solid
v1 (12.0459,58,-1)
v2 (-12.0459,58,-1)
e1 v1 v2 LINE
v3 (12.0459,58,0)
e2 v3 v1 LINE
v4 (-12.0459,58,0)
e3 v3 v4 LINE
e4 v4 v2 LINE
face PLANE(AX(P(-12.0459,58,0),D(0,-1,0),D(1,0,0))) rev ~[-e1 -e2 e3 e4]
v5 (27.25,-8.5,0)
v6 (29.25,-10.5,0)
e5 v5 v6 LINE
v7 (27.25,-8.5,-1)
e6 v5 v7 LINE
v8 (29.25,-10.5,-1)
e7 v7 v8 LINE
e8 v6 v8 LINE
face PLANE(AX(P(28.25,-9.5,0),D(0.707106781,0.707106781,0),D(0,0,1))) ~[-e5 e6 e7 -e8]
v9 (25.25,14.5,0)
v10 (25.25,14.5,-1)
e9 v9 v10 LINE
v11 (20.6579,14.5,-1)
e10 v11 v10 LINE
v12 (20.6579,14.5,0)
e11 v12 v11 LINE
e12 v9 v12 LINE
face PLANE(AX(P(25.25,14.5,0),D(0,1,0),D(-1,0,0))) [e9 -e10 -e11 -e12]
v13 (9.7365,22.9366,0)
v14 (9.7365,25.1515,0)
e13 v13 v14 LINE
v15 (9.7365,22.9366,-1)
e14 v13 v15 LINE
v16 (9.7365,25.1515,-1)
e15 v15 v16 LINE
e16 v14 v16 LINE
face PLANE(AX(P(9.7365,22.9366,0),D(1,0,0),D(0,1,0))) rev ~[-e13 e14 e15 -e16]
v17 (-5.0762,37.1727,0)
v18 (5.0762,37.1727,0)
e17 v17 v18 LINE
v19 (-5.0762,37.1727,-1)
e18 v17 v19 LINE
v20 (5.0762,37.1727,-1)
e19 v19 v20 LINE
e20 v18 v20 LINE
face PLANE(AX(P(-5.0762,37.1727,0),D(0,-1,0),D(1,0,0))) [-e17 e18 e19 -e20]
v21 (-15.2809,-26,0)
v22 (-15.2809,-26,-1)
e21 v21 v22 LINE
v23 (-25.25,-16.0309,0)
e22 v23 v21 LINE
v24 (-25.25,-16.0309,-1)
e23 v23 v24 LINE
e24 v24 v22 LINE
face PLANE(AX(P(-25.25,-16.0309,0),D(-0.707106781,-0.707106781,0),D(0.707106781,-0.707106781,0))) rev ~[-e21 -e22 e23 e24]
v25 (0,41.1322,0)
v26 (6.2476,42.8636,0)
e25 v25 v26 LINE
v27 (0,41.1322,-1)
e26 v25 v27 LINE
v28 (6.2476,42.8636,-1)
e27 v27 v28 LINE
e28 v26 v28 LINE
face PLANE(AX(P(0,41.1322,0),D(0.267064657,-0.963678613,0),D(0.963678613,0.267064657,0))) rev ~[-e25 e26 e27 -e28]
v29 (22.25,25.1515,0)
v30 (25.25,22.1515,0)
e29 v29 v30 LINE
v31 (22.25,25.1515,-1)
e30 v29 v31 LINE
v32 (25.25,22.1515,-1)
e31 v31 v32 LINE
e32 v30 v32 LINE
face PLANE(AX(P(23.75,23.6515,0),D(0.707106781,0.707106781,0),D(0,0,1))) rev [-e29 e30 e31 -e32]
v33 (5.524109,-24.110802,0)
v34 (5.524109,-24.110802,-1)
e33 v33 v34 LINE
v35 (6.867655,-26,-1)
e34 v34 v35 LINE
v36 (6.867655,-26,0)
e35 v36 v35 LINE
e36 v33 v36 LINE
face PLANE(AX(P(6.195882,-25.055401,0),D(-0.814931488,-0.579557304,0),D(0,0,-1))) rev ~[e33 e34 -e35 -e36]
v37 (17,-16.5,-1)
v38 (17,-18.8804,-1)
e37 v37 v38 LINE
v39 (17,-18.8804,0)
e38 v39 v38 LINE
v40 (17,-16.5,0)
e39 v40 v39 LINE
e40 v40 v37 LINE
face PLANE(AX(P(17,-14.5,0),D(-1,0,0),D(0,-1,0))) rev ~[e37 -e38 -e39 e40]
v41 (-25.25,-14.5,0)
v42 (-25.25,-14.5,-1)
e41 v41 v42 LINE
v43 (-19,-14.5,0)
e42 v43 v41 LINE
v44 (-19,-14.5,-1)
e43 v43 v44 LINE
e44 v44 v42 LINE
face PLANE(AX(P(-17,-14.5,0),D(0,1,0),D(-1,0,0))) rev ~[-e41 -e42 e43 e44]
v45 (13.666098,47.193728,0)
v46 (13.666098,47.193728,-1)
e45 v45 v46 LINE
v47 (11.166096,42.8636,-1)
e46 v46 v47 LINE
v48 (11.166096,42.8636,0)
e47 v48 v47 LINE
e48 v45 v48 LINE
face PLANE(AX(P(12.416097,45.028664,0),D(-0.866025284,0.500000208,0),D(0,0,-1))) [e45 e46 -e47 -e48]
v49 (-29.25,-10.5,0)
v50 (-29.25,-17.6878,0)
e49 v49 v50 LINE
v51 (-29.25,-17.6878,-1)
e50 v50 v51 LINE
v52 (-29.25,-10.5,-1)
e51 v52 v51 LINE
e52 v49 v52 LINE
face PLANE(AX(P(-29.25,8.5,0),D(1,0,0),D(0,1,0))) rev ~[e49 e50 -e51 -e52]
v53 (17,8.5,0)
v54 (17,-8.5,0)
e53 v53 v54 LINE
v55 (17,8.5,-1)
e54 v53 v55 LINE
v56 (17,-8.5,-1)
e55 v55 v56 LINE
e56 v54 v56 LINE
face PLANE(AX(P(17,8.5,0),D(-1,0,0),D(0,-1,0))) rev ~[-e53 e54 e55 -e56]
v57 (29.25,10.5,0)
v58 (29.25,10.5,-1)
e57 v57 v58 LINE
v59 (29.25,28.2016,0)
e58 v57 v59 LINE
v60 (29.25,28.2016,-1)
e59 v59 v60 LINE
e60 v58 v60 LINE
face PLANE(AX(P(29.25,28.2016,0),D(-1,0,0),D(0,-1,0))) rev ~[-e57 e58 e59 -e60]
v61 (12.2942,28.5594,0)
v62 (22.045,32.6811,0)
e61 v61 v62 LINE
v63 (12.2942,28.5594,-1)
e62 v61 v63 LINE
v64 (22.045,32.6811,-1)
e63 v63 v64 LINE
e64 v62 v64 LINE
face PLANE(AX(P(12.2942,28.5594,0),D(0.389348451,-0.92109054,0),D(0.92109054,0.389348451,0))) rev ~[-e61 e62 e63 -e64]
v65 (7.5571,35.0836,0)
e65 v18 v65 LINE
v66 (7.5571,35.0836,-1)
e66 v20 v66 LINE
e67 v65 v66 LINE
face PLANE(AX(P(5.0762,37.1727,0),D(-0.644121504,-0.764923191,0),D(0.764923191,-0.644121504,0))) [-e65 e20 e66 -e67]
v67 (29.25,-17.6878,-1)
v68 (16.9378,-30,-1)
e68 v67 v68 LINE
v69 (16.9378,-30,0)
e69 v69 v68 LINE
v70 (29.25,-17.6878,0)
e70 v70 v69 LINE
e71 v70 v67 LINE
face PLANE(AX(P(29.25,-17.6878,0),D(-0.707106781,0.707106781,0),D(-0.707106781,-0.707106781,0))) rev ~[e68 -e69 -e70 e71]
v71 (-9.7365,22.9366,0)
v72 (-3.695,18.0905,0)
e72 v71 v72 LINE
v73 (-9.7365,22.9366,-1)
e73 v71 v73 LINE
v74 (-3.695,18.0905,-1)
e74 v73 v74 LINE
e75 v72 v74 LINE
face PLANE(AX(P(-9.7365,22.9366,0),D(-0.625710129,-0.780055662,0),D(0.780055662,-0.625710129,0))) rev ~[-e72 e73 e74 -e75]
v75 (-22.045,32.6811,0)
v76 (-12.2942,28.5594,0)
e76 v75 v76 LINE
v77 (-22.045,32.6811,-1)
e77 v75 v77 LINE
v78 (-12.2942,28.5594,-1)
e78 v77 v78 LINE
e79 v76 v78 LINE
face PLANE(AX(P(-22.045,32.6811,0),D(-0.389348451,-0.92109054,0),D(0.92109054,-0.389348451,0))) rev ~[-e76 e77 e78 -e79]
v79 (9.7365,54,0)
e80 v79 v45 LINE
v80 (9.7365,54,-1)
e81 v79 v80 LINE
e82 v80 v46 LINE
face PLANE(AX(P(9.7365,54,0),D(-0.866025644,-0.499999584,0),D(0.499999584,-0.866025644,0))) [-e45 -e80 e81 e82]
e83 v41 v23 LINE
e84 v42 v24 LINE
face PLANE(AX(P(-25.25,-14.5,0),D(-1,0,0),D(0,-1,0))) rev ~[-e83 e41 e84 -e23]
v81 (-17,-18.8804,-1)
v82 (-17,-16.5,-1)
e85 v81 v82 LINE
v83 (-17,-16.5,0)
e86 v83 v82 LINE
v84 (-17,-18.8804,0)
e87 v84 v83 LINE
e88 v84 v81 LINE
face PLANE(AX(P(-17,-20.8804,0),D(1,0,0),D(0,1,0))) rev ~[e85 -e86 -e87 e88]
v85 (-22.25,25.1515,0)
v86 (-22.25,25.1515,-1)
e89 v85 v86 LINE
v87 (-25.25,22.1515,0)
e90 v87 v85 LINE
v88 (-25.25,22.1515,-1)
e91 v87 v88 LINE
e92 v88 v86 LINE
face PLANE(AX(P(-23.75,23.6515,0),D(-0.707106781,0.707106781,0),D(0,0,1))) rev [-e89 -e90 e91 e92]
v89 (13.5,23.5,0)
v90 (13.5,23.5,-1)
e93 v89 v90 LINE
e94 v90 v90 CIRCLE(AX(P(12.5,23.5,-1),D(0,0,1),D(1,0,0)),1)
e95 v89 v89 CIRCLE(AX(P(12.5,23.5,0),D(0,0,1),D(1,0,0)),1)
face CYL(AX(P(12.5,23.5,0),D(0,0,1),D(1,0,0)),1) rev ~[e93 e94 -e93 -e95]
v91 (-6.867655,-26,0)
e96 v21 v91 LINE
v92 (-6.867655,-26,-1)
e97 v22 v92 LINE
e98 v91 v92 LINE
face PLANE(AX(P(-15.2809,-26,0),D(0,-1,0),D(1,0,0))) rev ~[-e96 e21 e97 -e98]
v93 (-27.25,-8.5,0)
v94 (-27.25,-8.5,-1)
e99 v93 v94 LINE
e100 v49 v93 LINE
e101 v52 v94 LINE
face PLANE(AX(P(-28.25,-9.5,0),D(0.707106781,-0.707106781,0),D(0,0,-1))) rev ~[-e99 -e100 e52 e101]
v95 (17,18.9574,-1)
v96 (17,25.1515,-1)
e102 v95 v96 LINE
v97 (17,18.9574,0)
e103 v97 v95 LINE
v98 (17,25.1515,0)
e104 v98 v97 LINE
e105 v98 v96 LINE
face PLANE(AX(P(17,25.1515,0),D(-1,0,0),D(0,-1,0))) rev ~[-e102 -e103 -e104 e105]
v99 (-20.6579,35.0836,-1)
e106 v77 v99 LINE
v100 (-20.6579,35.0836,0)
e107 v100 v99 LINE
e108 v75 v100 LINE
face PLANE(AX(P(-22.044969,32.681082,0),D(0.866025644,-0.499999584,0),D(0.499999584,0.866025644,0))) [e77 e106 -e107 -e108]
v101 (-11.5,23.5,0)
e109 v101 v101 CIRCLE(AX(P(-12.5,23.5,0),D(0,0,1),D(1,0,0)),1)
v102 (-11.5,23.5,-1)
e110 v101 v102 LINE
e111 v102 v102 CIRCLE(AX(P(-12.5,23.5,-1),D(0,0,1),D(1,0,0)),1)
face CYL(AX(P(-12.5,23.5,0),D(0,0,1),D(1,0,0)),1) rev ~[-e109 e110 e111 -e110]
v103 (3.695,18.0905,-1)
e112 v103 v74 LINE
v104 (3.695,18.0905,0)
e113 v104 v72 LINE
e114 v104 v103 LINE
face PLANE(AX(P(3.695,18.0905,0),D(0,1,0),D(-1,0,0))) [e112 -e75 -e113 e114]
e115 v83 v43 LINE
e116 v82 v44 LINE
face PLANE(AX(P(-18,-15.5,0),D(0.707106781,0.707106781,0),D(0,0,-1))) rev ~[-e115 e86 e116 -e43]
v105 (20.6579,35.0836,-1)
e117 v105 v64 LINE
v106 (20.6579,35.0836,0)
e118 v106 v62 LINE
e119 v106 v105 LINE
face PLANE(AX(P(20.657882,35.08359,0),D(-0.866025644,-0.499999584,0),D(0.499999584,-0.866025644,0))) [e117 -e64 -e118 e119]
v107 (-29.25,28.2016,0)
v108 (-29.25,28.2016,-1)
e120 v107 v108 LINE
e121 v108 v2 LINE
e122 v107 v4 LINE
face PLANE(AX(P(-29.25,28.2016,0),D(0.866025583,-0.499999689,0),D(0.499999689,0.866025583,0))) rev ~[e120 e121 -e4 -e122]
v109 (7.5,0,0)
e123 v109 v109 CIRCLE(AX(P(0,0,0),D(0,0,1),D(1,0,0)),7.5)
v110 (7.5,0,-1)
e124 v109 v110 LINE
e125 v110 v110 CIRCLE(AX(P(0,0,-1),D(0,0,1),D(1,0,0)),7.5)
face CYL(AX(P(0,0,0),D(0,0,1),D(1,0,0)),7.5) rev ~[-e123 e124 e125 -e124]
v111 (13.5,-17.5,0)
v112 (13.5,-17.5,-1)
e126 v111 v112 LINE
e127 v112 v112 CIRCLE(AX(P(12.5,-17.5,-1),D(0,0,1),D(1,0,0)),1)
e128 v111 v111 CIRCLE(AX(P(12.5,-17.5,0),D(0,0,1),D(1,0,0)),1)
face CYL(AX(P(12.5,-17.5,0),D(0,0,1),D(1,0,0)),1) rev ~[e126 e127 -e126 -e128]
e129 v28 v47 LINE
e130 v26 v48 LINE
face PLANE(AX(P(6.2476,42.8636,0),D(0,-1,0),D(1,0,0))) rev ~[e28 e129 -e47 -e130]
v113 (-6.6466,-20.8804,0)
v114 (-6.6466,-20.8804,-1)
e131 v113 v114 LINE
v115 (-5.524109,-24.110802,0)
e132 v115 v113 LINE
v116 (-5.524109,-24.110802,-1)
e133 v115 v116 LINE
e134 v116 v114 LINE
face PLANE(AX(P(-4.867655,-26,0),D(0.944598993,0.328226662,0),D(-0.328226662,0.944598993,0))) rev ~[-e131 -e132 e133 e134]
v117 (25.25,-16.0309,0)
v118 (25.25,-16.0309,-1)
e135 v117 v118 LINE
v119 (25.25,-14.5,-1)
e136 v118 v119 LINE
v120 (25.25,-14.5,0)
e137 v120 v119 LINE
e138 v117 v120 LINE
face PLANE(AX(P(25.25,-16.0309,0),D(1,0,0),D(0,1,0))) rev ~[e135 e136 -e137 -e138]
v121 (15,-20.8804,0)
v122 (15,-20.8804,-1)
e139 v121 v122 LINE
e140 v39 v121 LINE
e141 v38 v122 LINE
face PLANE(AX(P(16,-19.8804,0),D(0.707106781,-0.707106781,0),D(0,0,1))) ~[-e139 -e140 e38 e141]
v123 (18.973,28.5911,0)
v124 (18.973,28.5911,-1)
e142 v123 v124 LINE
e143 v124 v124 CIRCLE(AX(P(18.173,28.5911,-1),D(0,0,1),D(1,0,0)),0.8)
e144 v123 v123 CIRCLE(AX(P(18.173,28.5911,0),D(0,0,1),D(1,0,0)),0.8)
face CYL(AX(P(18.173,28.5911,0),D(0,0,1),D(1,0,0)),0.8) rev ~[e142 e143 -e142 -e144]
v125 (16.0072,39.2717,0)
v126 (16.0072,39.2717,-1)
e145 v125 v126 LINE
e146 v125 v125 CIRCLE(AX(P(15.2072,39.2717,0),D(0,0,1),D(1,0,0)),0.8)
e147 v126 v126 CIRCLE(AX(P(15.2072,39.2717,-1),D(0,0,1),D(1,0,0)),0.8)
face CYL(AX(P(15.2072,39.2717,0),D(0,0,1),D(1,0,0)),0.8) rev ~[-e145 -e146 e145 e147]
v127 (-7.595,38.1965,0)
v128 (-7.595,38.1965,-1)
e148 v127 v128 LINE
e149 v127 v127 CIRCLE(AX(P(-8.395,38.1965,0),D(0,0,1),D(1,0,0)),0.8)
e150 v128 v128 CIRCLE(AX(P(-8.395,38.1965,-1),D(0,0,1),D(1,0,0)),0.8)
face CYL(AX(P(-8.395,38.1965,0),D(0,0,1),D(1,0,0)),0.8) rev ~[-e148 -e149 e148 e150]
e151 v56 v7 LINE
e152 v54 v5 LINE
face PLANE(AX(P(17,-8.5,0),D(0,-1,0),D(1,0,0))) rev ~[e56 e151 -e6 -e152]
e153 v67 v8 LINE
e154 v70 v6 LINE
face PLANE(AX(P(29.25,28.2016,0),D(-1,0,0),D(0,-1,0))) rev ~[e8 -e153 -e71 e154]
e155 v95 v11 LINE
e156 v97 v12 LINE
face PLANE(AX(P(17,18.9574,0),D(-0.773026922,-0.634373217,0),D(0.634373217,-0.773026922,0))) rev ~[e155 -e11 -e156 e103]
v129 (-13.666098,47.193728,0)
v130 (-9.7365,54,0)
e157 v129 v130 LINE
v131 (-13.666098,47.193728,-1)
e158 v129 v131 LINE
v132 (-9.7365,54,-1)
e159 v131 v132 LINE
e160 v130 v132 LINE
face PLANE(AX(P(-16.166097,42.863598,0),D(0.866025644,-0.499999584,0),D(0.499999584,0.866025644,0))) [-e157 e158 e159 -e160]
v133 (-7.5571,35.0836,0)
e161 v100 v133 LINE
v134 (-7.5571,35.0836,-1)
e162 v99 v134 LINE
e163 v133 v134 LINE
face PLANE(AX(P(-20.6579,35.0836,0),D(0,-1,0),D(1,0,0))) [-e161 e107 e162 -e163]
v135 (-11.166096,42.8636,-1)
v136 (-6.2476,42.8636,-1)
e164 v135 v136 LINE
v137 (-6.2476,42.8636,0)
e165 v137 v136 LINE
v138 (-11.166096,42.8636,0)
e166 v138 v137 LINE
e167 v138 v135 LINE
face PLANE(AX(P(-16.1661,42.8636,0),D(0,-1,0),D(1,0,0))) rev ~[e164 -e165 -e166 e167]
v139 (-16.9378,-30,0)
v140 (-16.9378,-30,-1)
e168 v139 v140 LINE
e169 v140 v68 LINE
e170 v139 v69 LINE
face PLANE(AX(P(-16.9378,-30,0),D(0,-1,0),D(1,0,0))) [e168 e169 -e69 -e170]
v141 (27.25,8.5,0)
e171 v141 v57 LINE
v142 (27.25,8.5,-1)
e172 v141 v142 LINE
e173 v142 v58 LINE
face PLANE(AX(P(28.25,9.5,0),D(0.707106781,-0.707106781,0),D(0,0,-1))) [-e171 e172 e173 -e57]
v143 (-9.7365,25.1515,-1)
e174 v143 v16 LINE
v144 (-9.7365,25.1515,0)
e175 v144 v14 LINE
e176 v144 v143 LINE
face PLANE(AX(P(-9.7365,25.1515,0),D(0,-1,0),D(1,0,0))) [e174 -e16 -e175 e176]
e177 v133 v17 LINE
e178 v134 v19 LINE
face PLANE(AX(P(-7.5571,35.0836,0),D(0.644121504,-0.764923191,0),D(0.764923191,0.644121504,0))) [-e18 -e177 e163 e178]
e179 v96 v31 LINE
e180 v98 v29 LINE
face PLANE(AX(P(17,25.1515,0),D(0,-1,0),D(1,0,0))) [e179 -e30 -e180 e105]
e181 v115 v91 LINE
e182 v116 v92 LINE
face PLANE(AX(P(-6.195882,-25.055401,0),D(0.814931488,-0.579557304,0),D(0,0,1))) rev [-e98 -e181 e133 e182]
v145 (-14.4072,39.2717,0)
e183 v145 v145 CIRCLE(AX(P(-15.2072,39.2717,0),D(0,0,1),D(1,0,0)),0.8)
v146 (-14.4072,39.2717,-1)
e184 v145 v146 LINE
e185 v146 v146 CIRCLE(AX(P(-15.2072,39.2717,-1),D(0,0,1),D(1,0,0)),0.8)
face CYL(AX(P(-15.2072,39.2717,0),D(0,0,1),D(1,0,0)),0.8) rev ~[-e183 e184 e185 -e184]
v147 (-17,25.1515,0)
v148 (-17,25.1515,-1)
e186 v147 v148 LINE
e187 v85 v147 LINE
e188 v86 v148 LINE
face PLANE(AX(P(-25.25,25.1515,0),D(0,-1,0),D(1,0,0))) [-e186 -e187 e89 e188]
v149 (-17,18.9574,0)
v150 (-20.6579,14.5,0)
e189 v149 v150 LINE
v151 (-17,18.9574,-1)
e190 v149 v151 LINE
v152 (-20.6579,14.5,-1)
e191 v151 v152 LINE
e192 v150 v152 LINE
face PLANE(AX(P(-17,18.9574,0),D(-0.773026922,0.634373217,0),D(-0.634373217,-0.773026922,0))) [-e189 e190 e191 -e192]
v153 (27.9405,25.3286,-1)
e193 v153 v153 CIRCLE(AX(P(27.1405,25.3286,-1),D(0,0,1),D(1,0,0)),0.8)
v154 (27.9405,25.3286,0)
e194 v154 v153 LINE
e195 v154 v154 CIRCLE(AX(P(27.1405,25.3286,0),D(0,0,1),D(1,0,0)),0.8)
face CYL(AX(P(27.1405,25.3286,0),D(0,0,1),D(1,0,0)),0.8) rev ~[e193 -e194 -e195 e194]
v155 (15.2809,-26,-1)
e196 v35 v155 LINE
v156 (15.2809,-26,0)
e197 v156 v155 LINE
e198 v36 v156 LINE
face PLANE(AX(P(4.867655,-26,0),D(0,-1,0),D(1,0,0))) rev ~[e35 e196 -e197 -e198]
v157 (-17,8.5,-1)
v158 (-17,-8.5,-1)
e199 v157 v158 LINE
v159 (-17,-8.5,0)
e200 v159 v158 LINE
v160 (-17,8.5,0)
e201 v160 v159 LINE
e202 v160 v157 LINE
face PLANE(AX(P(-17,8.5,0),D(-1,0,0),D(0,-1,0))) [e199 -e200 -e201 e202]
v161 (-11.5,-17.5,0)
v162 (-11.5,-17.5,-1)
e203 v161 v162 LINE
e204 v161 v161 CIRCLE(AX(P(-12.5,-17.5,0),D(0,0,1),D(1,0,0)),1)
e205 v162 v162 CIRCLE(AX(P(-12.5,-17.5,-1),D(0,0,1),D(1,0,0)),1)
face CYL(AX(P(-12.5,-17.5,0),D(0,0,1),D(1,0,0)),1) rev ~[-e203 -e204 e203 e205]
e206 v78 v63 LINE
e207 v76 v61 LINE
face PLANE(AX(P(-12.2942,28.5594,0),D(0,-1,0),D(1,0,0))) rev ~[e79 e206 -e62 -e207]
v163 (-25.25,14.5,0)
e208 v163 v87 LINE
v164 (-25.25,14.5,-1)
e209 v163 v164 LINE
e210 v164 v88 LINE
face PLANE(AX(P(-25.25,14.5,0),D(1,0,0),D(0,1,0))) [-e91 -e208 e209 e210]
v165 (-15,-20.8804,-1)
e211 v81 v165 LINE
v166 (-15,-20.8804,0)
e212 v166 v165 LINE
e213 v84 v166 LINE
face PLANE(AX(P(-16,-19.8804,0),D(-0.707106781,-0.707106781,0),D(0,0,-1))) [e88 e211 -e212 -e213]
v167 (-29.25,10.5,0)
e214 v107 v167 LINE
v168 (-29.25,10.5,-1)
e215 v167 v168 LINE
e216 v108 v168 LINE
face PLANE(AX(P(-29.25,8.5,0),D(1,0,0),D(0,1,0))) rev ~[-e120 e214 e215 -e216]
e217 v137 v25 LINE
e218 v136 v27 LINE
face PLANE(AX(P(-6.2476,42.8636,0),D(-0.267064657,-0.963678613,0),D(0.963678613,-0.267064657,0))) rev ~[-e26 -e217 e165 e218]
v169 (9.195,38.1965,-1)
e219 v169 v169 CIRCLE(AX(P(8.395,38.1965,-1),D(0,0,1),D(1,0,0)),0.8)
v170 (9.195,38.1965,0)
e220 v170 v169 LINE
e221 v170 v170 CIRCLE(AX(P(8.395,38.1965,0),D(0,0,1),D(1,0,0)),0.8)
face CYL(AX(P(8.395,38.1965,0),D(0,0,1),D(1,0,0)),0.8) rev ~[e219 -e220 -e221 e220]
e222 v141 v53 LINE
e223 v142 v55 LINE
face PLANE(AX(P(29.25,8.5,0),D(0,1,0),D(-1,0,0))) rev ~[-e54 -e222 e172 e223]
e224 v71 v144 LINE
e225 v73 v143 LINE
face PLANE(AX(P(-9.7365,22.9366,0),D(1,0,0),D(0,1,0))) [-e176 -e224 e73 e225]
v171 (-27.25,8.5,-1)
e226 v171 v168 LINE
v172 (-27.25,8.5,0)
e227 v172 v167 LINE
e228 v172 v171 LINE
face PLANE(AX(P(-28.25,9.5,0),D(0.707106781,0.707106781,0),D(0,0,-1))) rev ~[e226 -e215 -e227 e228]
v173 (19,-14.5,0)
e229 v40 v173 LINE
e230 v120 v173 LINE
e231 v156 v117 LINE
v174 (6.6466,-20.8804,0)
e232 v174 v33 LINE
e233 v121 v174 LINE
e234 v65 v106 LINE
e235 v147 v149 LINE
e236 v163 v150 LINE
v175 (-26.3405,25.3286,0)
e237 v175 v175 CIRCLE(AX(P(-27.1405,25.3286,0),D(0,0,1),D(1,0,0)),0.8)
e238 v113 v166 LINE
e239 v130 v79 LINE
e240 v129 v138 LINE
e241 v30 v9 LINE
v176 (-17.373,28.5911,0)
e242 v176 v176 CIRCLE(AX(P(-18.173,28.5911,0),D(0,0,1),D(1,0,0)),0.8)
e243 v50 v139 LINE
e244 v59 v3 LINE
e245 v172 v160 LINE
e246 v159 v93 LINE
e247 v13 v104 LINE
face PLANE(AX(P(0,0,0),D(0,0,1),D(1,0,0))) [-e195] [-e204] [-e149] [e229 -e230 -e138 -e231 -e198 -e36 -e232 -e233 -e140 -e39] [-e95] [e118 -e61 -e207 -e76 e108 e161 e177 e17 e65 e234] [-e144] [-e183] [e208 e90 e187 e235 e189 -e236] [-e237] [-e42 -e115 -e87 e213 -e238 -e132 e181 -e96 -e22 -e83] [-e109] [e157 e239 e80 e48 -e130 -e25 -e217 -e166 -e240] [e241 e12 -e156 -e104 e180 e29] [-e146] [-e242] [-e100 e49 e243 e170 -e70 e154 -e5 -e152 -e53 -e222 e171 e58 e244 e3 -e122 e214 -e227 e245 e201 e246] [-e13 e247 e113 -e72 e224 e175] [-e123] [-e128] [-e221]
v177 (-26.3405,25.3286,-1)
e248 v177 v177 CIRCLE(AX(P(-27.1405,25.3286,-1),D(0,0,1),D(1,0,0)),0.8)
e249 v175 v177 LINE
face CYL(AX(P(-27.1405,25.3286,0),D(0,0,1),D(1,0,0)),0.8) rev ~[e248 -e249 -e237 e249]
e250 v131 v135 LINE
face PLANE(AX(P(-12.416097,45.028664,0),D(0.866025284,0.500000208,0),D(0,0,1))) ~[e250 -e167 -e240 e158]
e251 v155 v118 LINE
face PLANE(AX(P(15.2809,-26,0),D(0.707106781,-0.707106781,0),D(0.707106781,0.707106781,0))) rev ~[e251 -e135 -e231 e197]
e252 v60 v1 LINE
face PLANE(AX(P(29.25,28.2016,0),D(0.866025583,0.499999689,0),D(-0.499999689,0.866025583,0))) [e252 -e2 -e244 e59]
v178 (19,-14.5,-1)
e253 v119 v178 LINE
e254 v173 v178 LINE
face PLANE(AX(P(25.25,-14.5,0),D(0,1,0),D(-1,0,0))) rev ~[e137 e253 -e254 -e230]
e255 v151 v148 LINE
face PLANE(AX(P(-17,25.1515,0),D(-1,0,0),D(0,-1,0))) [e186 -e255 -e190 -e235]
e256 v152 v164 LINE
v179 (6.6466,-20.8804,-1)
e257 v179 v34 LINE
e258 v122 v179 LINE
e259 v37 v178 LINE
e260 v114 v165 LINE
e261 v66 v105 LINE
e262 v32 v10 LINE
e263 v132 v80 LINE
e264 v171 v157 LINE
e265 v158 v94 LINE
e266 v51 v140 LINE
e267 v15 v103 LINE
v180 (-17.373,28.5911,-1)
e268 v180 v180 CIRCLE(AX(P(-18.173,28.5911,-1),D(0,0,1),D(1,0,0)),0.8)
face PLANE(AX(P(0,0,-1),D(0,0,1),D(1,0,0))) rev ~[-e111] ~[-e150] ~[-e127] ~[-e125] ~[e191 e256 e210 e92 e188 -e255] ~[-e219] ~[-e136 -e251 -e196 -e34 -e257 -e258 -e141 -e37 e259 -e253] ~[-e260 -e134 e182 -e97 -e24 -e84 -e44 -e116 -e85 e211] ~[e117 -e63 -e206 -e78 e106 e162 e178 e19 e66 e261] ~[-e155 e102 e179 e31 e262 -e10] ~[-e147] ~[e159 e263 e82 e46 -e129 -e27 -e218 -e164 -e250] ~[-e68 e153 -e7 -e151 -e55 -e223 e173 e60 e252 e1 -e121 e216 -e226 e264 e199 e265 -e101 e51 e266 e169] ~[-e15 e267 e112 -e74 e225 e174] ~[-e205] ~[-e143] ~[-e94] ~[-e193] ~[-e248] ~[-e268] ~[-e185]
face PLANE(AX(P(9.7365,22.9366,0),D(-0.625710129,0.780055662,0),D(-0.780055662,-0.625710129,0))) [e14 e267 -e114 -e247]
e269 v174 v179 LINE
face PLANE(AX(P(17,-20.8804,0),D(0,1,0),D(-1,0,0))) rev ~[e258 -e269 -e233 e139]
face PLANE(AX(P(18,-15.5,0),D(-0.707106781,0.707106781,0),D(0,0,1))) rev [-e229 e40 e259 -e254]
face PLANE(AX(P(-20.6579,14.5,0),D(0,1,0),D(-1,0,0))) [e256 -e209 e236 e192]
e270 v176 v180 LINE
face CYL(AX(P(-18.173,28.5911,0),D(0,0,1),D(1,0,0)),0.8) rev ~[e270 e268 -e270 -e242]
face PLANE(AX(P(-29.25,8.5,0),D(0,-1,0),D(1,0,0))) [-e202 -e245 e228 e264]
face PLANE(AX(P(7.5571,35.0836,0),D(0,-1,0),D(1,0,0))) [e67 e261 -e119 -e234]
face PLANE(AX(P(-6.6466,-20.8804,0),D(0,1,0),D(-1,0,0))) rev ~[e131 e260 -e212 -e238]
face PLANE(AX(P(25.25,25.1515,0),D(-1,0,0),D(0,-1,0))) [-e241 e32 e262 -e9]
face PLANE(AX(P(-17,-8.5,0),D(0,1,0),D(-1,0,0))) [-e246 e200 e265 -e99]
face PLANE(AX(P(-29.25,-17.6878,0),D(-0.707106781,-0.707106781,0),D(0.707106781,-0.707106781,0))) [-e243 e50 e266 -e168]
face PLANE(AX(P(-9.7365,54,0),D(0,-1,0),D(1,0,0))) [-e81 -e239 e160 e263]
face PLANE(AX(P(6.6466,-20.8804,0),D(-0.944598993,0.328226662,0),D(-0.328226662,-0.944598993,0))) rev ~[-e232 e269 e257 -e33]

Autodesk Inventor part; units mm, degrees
ref_plane "YZ Plane" through (0, 0, 0) normal (1, 0, 0) x (0, 1, 0)
ref_plane "XZ Plane" through (0, 0, 0) normal (0, 1, 0) x (-1, 0, 0)
ref_plane "XY Plane" through (0, 0, 0) normal (0, 0, 1) x (1, 0, 0)
sketch "スケッチ1" plane through (0, 0, 0) normal (0, 0, 1) x (1, 0, 0)
  line L0 (-90, 90) -> (90, 90) construction
  line L1 (90, 90) -> (90, -90) construction
  line L2 (90, -90) -> (-90, -90) construction
  line L3 (-90, -90) -> (-90, 90) construction
  line L4 (-90, 90) -> (-90, 270) construction
  line L5 (-90, 270) -> (90, 270) construction
  line L6 (90, 270) -> (90, 90) construction
  line L7 (-90, 90) -> (90, -90) construction
  line L8 (90, 90) -> (-90, -90) construction
  line L9 (0, 0) -> (0, 10) construction
  line L10 (0, 0) -> (10, 0) construction
  line L11 (-90, 270) -> (90, 90) construction
  line L12 (-90, 90) -> (90, 270) construction
  line L13 (-96, 276) -> (96, 276) construction
  line L14 (96, 276) -> (96, -96) construction
  line L15 (96, -96) -> (-96, -96) construction
  line L16 (-96, -96) -> (-96, 276) construction
  line L17 (-84, 264) -> (84, 264) construction
  line L18 (84, 264) -> (84, -84) construction
  line L19 (84, -84) -> (-84, -84) construction
  line L20 (-84, -84) -> (-84, 264) construction
  line L21 (-96, 96) -> (96, 96) construction
  line L22 (-96, 84) -> (96, 84) construction
  line L23 (-63.6396, 63.6396) -> (63.6396, 190.9188) construction
  line L24 (63.6396, 190.9188) -> (190.9188, 63.6396) construction
  line L25 (190.9188, 63.6396) -> (63.6396, -63.6396) construction
  line L26 (63.6396, -63.6396) -> (-63.6396, 63.6396) construction
  line L27 (-190.9188, 190.9188) -> (-63.6396, 318.1981) construction
  line L28 (-63.6396, 318.1981) -> (63.6396, 190.9188) construction
  line L29 (-63.6396, 63.6396) -> (-190.9188, 190.9188) construction
  line L30 (-96, 120) -> (96, 120) construction
  line L31 (-96, 186) -> (96, 186) construction
  line L32 (-96, 174) -> (96, 174) construction
  line L33 (-96, 180) -> (96, 180) construction
  point P0 (-63.6396, 318.1981)
  point P1 (-90, 120)
  point P2 (90, 120)
  point P3 (0, 180)
  dimension "d8" = 10
  dimension "d9" = 10
  dimension "d10" = 12
  dimension "d11" = 12
  dimension "d12" = 12
  dimension "d13" = 12
  dimension "d14" = 180
  dimension "d15" = 180
  dimension "d16" = 180
  dimension "d17" = 12
  dimension "d34" = 180
  dimension "d35" = 180
  dimension "d36" = 180
  dimension "d37" = 120
  dimension "d85" = 12
sketch "スケッチ2" plane through (0, 0, 0) normal (0, 0, 1) x (1, 0, 0)
  line L0 (63.6396, 190.9188) -> (190.9188, 63.6396) construction
  line L1 (-63.6396, 318.1981) -> (63.6396, 190.9188) construction
  line L2 (-84, 264) -> (84, 264) construction
  line L3 (-90, 270) -> (90, 270) construction
  line L4 (90, 270) -> (90, 90) construction
  line L5 (-96, 276) -> (96, 276) construction
  line L6 (-90, 90) -> (90, 270) construction
  line L7 (-90, 270) -> (90, 90) construction
  line L8 (-63.6396, 63.6396) -> (63.6396, 190.9188) construction
  line L9 (-96, 120) -> (96, 120) construction
  line L10 (-90, 90) -> (90, 90) construction
  line L11 (-96, 96) -> (96, 96) construction
  line L12 (-96, 84) -> (96, 84) construction
  line L13 (90, -90) -> (-90, -90) construction
  line L14 (0, 0) -> (0, 10) construction
  line L15 (0, 0) -> (10, 0) construction
  line L16 (190.9188, 63.6396) -> (63.6396, -63.6396) construction
  line L17 (63.6396, -63.6396) -> (-63.6396, 63.6396) construction
  line L18 (84, -84) -> (-84, -84) construction
  line L19 (96, -96) -> (-96, -96) construction
  line L20 (-90, 90) -> (-90, 270) construction
  line L21 (-63.6396, 63.6396) -> (-190.9188, 190.9188) construction
  line L22 (-190.9188, 190.9188) -> (-63.6396, 318.1981) construction
  line L23 (96, 276) -> (96, -96) construction
  line L24 (-96, -96) -> (-96, 276) construction
  line L25 (84, 264) -> (84, -84) construction
  line L26 (-84, -84) -> (-84, 264) construction
  line L27 (90, 90) -> (90, -90) construction
  line L28 (-90, 90) -> (90, -90) construction
  line L29 (90, 90) -> (-90, -90) construction
  line L30 (-90, -90) -> (-90, 90) construction
  circle A0 centre (0, 0) radius 16 construction
  circle A1 centre (0, 0) radius 7.5 construction
  line L31 (20, 11.5) -> (28.75, 11.5) construction
  line L32 (28.75, 11.5) -> (28.75, -11.5) construction
  line L33 (28.75, -11.5) -> (20, -11.5) construction
  line L34 (20, -11.5) -> (20, 11.5) construction
  line L35 (20, 11.5) -> (18, 11.5) construction
  line L36 (18, 11.5) -> (18, -11.5) construction
  line L37 (18, -11.5) -> (20, -11.5) construction
  line L38 (18, 1.5) -> (17, 1.5) construction
  line L39 (17, -1.5) -> (18, -1.5) construction
  line L40 (-17, 26) -> (17, 26) construction
  line L41 (17, 26) -> (17, -20) construction
  line L42 (17, -20) -> (-17, -20) construction
  line L43 (-17, -20) -> (-17, 26) construction
  line L44 (-20, 11.5) -> (-28.75, 11.5) construction
  line L45 (-28.75, 11.5) -> (-28.75, -11.5) construction
  line L46 (-28.75, -11.5) -> (-20, -11.5) construction
  line L47 (-20, -11.5) -> (-20, 11.5) construction
  line L48 (-20, 11.5) -> (-18, 11.5) construction
  line L49 (-18, 11.5) -> (-18, -11.5) construction
  line L50 (-18, -11.5) -> (-20, -11.5) construction
  line L51 (-18, 1.5) -> (-17, 1.5) construction
  line L52 (-17, -1.5) -> (-18, -1.5) construction
  line L53 (-14.5, 26) -> (-14.5, -20) construction
  line L54 (14.5, 26) -> (14.5, -20) construction
  line L55 (-10.5, 26) -> (-10.5, 21) construction
  line L56 (-10.5, 21) -> (-14.5, 21) construction
  line L57 (-14.5, 26) -> (-10.5, 21) construction
  line L58 (-10.5, 26) -> (-14.5, 21) construction
  circle A2 centre (-12.5, 23.5) radius 1 construction
  line L59 (10.5, 26) -> (10.5, 21) construction
  line L60 (10.5, 21) -> (14.5, 21) construction
  line L61 (10.5, 26) -> (14.5, 21) construction
  line L62 (10.5, 21) -> (14.5, 26) construction
  circle A3 centre (12.5, 23.5) radius 1 construction
  line L63 (-14.5, -15) -> (-10.5, -15) construction
  line L64 (-10.5, -15) -> (-10.5, -20) construction
  line L65 (10.5, -20) -> (10.5, -15) construction
  line L66 (10.5, -15) -> (14.5, -15) construction
  line L67 (-14.5, -15) -> (-10.5, -20) construction
  line L68 (-10.5, -15) -> (-14.5, -20) construction
  circle A4 centre (-12.5, -17.5) radius 1 construction
  line L69 (10.5, -15) -> (14.5, -20) construction
  line L70 (14.5, -15) -> (10.5, -20) construction
  circle A5 centre (12.5, -17.5) radius 1 construction
  point P0 (90, 120)
  point P1 (-90, 120)
  point P2 (-63.6396, 318.1981)
  point P3 (-12.5, -17.5)
  dimension "d38" = 32
  dimension "d39" = 15
  dimension "d40" = 8.75
  dimension "d41" = 2
  dimension "d42" = 23
  dimension "d44" = 3
  dimension "d45" = 1
  dimension "d48" = 2.5
  dimension "d49" = 20
  dimension "d50" = 26
  dimension "d51" = 2
  dimension "d52" = 5
  dimension "d53" = 4
  dimension "d54" = 2
  dimension "d55" = 4
  dimension "d56" = 5
  dimension "d57" = 2
  dimension "d58" = 4
  dimension "d59" = 5
  dimension "d60" = 2
  dimension "d61" = 5
  dimension "d62" = 4
  dimension "d63" = 57.5
  dimension "d71" = 41
  dimension "d154" = 29
sketch "スケッチ3" plane through (0, 0, 0) normal (0, 0, 1) x (1, 0, 0)
  line L0 (63.6396, 190.9188) -> (190.9188, 63.6396) construction
  line L1 (-63.6396, 318.1981) -> (63.6396, 190.9188) construction
  line L2 (-84, 264) -> (84, 264) construction
  line L3 (-90, 270) -> (90, 270) construction
  line L4 (90, 270) -> (90, 90) construction
  line L5 (-96, 276) -> (96, 276) construction
  line L6 (-90, 90) -> (90, 270) construction
  line L7 (-90, 270) -> (90, 90) construction
  line L8 (-63.6396, 63.6396) -> (63.6396, 190.9188) construction
  line L9 (-96, 120) -> (96, 120) construction
  line L10 (-90, 90) -> (90, 90) construction
  line L11 (-96, 96) -> (96, 96) construction
  line L12 (-96, 84) -> (96, 84) construction
  line L13 (90, -90) -> (-90, -90) construction
  line L14 (0, 0) -> (0, 10) construction
  line L15 (0, 0) -> (10, 0) construction
  line L16 (190.9188, 63.6396) -> (63.6396, -63.6396) construction
  line L17 (63.6396, -63.6396) -> (-63.6396, 63.6396) construction
  line L18 (84, -84) -> (-84, -84) construction
  line L19 (96, -96) -> (-96, -96) construction
  line L20 (-90, 90) -> (-90, 270) construction
  line L21 (-63.6396, 63.6396) -> (-190.9188, 190.9188) construction
  line L22 (-190.9188, 190.9188) -> (-63.6396, 318.1981) construction
  line L23 (96, 276) -> (96, -96) construction
  line L24 (-96, -96) -> (-96, 276) construction
  line L25 (84, 264) -> (84, -84) construction
  line L26 (-84, -84) -> (-84, 264) construction
  line L27 (90, 90) -> (90, -90) construction
  line L28 (-90, 90) -> (90, -90) construction
  line L29 (90, 90) -> (-90, -90) construction
  line L30 (-90, -90) -> (-90, 90) construction
  line L31 (-18, 1.5) -> (-17, 1.5) construction
  line L32 (-17, -1.5) -> (-18, -1.5) construction
  line L33 (-20, 11.5) -> (-18, 11.5) construction
  line L34 (-28.75, 11.5) -> (-28.75, -11.5) construction
  line L35 (63.6396, -63.6396) -> (-63.6396, 63.6396) construction
  line L36 (84, -84) -> (-84, -84) construction
  line L37 (-90, -90) -> (-90, 90) construction
  line L38 (96, -96) -> (-96, -96) construction
  line L39 (-90, 90) -> (90, 90) construction
  line L40 (90, -90) -> (-90, -90) construction
  line L41 (90, 90) -> (-90, -90) construction
  line L42 (-90, 90) -> (90, -90) construction
  line L43 (90, 90) -> (90, -90) construction
  line L44 (-28.75, -11.5) -> (-20, -11.5) construction
  line L45 (-20, 11.5) -> (-28.75, 11.5) construction
  line L46 (-18, 11.5) -> (-18, -11.5) construction
  line L47 (-18, -11.5) -> (-20, -11.5) construction
  line L48 (0, 0) -> (0, 10) construction
  line L49 (0, 0) -> (10, 0) construction
  circle A0 centre (0, 0) radius 16 construction
  circle A1 centre (0, 0) radius 7.5 projected
  line L50 (-14.5, 26) -> (-14.5, -20) construction
  line L51 (-17, 26) -> (17, 26) construction
  line L52 (-17, -20) -> (-17, 26) construction
  line L53 (17, -20) -> (-17, -20) construction
  line L54 (-14.5, -15) -> (-10.5, -15) construction
  circle A2 centre (-12.5, -17.5) radius 1 projected
  line L55 (-10.5, -15) -> (-14.5, -20) construction
  line L56 (-14.5, -15) -> (-10.5, -20) construction
  line L57 (-63.6396, 318.1981) -> (63.6396, 190.9188) construction
  line L58 (-84, 264) -> (84, 264) construction
  line L59 (-90, 270) -> (90, 270) construction
  line L60 (90, 270) -> (90, 90) construction
  line L61 (-96, 276) -> (96, 276) construction
  line L62 (-90, 90) -> (90, 270) construction
  line L63 (-90, 270) -> (90, 90) construction
  line L64 (-63.6396, 63.6396) -> (63.6396, 190.9188) construction
  line L65 (-96, 120) -> (96, 120) construction
  line L66 (-96, 96) -> (96, 96) construction
  line L67 (-96, 84) -> (96, 84) construction
  line L68 (84, 264) -> (84, -84) construction
  line L69 (96, 276) -> (96, -96) construction
  line L70 (-96, -96) -> (-96, 276) construction
  line L71 (-84, -84) -> (-84, 264) construction
  line L72 (-63.6396, 63.6396) -> (-190.9188, 190.9188) construction
  line L73 (-90, 90) -> (-90, 270) construction
  line L74 (-190.9188, 190.9188) -> (-63.6396, 318.1981) construction
  line L75 (-20, -11.5) -> (-20, 11.5) construction
  line L76 (10.5, -15) -> (14.5, -15) construction
  line L77 (10.5, -20) -> (10.5, -15) construction
  circle A3 centre (12.5, -17.5) radius 1 projected
  line L78 (10.5, -15) -> (14.5, -20) construction
  line L79 (14.5, -15) -> (10.5, -20) construction
  line L80 (-10.5, -15) -> (-10.5, -20) construction
  line L81 (63.6396, 190.9188) -> (190.9188, 63.6396) construction
  line L82 (190.9188, 63.6396) -> (63.6396, -63.6396) construction
  line L83 (20, 11.5) -> (28.75, 11.5) construction
  line L84 (28.75, 11.5) -> (28.75, -11.5) construction
  line L85 (17, -1.5) -> (18, -1.5) construction
  line L86 (18, -11.5) -> (20, -11.5) construction
  line L87 (28.75, -11.5) -> (20, -11.5) construction
  line L88 (14.5, 26) -> (14.5, -20) construction
  line L89 (17, 26) -> (17, -20) construction
  line L90 (18, 11.5) -> (18, -11.5) construction
  line L91 (20, -11.5) -> (20, 11.5) construction
  line L92 (20, 11.5) -> (18, 11.5) construction
  line L93 (18, 1.5) -> (17, 1.5) construction
  line L94 (-10.5, 26) -> (-10.5, 21) construction
  line L95 (10.5, 21) -> (14.5, 21) construction
  circle A4 centre (12.5, 23.5) radius 1 projected
  line L96 (10.5, 26) -> (14.5, 21) construction
  line L97 (10.5, 21) -> (14.5, 26) construction
  line L98 (10.5, 26) -> (10.5, 21) construction
  line L99 (-10.5, 21) -> (-14.5, 21) construction
  circle A5 centre (-12.5, 23.5) radius 1 projected
  line L100 (-14.5, 26) -> (-10.5, 21) construction
  line L101 (-10.5, 26) -> (-14.5, 21) construction
  line L102 (29.25, 58) -> (29.25, -30)
  line L103 (-29.25, -30) -> (-29.25, 58)
  line L104 (-29.25, 8.5) -> (-17, 8.5)
  line L105 (-17, 8.5) -> (-17, -8.5)
  line L106 (-17, -8.5) -> (-29.25, -8.5)
  line L107 (29.25, 8.5) -> (17, 8.5)
  line L108 (17, 8.5) -> (17, -8.5)
  line L109 (17, -8.5) -> (29.25, -8.5)
  line L110 (10.991, 46.9185) -> (16.1478, 42.9616) construction
  line L111 (11.8865, 37.4081) -> (14.2666, 35.5818) construction
  line L112 (14.2666, 35.5818) -> (18.5279, 41.1353) construction
  line L113 (11.9003, 38.658) -> (10.9773, 45.6686) construction
  line L114 (18.5279, 41.1353) -> (16.1478, 42.9616) construction
  line L115 (11.8865, 37.4081) -> (6.7297, 41.365) construction
  line L116 (11.9003, 38.658) -> (7.9335, 41.7018) construction
  line L117 (7.9335, 41.7018) -> (10.9773, 45.6686) construction
  line L118 (6.7297, 41.365) -> (10.991, 46.9185) construction
  line L119 (10.991, 46.9185) -> (11.8865, 37.4081) construction
  line L120 (14.9441, 42.6248) -> (11.9003, 38.658) construction
  line L121 (7.9335, 41.7018) -> (14.9441, 42.6248) construction
  line L122 (6.7297, 41.365) -> (16.1478, 42.9616) construction
  line L123 (16.1478, 42.9616) -> (11.8865, 37.4081) construction
  line L124 (10.9773, 45.6686) -> (14.9441, 42.6248) construction
  line L125 (-25.2554, 25.0784) -> (-25.9466, 30.0304) construction
  line L126 (-20.1078, 31.6026) -> (-18.8984, 22.9366) construction
  line L127 (-20.9946, 30.7216) -> (-20.3034, 25.7696) construction
  line L128 (-25.2554, 25.0784) -> (-20.9946, 30.7216) construction
  line L129 (-25.9466, 30.0304) -> (-20.3034, 25.7696) construction
  line L130 (-27.0406, 30.635) -> (-20.1078, 31.6026) construction
  line L131 (-18.8984, 22.9366) -> (-25.8312, 21.969) construction
  line L132 (-25.8312, 21.969) -> (-27.0406, 30.635) construction
  line L133 (-63.6396, 318.1981) -> (-23.125, 27.9) construction
  line L134 (11.4388, 42.1633) -> (-90, 120) construction
  line L135 (-23.125, 27.9) -> (-78.8228, 303.0149) construction
  line L136 (-23.125, 27.9) -> (-44.1788, 298.7372) construction
  line L137 (-10.9773, 45.6686) -> (-7.9335, 41.7018) construction
  line L138 (-10.991, 46.9185) -> (-6.7297, 41.365) construction
  line L139 (-16.1478, 42.9616) -> (-10.991, 46.9185) construction
  line L140 (-6.7297, 41.365) -> (-16.1478, 42.9616) construction
  line L141 (-14.9441, 42.6248) -> (-7.9335, 41.7018) construction
  line L142 (-14.9441, 42.6248) -> (-10.9773, 45.6686) construction
  line L143 (-16.1478, 42.9616) -> (-18.5279, 41.1353) construction
  line L144 (-7.9335, 41.7018) -> (-11.9003, 38.658) construction
  line L145 (-10.9773, 45.6686) -> (-11.9003, 38.658) construction
  line L146 (-11.9003, 38.658) -> (-14.9441, 42.6248) construction
  line L147 (-10.991, 46.9185) -> (-11.8865, 37.4081) construction
  line L148 (-6.7297, 41.365) -> (-11.8865, 37.4081) construction
  line L149 (-11.8865, 37.4081) -> (-16.1478, 42.9616) construction
  line L150 (-18.5279, 41.1353) -> (-14.2666, 35.5818) construction
  line L151 (-14.2666, 35.5818) -> (-11.8865, 37.4081) construction
  line L152 (-11.4388, 42.1633) -> (90, 120) construction
  circle A6 centre (-8.395, 38.1965) radius 0.625 construction
  circle A7 centre (-8.395, 38.1965) radius 0.8
  circle A8 centre (-8.395, 38.1965) radius 1.5 construction
  circle A9 centre (-15.2072, 39.2717) radius 0.625 construction
  circle A10 centre (-15.2072, 39.2717) radius 0.8
  circle A11 centre (-15.2072, 39.2717) radius 1.5 construction
  line L153 (-20.3034, 25.7696) -> (-25.2554, 25.0784) construction
  line L154 (-26.1422, 24.1974) -> (-19.2094, 25.165) construction
  line L155 (-25.601, 27.5544) -> (-20.649, 28.2456) construction
  line L156 (-22.3648, 22.4528) -> (-22.7794, 25.424) construction
  circle A12 centre (-18.173, 28.5911) radius 1.5 construction
  circle A13 centre (-18.173, 28.5911) radius 0.8
  circle A14 centre (-18.173, 28.5911) radius 0.625 construction
  circle A15 centre (-27.1405, 25.3286) radius 0.8
  circle A16 centre (-27.1405, 25.3286) radius 0.625 construction
  line L157 (-25.9466, 30.0304) -> (-20.9946, 30.7216) construction
  circle A17 centre (8.395, 38.1965) radius 0.625 construction
  circle A18 centre (8.395, 38.1965) radius 0.8
  circle A19 centre (8.395, 38.1965) radius 1.5 construction
  circle A20 centre (15.2072, 39.2717) radius 1.5 construction
  circle A21 centre (15.2072, 39.2717) radius 0.8
  circle A22 centre (15.2072, 39.2717) radius 0.625 construction
  circle A23 centre (18.173, 28.5911) radius 0.625 construction
  circle A24 centre (18.173, 28.5911) radius 0.8
  circle A25 centre (18.173, 28.5911) radius 1.5 construction
  circle A26 centre (27.1405, 25.3286) radius 0.625 construction
  circle A27 centre (27.1405, 25.3286) radius 0.8
  circle A28 centre (27.1405, 25.3286) radius 1.5 construction
  line L158 (-29.25, -30) -> (29.25, -30)
  line L159 (-29.25, 58) -> (29.25, 58)
  line L160 (-11.4388, 42.1633) -> (-8.395, 38.1965) construction
  line L161 (-29.25, 28.2016) -> (-12.0459, 58)
  line L162 (-29.25, -17.6878) -> (-16.9378, -30)
  line L163 (29.25, 28.2016) -> (12.0459, 58)
  line L164 (29.25, -17.6878) -> (16.9378, -30)
  line L165 (-9.7365, 54) -> (9.7365, 54)
  line L166 (9.7365, 54) -> (25.25, 27.1298)
  line L167 (25.25, 27.1298) -> (25.25, 14.5)
  line L168 (25.25, 14.5) -> (17, 14.5)
  line L169 (3.695, 18.0905) -> (-3.695, 18.0905)
  line L170 (-17, 14.5) -> (-25.25, 14.5)
  line L171 (-25.25, 14.5) -> (-25.25, 27.1298)
  line L172 (-25.25, 27.1298) -> (-9.7365, 54)
  line L173 (20.1078, 31.6026) -> (18.8984, 22.9366) construction
  line L174 (20.9946, 30.7216) -> (20.3034, 25.7696) construction
  line L175 (25.9466, 30.0304) -> (20.3034, 25.7696) construction
  line L176 (25.2554, 25.0784) -> (20.9946, 30.7216) construction
  line L177 (27.0406, 30.635) -> (20.1078, 31.6026) construction
  line L178 (25.2554, 25.0784) -> (25.9466, 30.0304) construction
  line L179 (18.8984, 22.9366) -> (25.8312, 21.969) construction
  line L180 (25.8312, 21.969) -> (27.0406, 30.635) construction
  line L181 (20.3034, 25.7696) -> (25.2554, 25.0784) construction
  line L182 (26.1422, 24.1974) -> (19.2094, 25.165) construction
  line L183 (25.9466, 30.0304) -> (20.9946, 30.7216) construction
  line L184 (-9.7365, 22.9366) -> (-9.7365, 26)
  line L185 (9.7365, 22.9366) -> (9.7365, 26)
  line L186 (9.7365, 26) -> (17, 26)
  line L187 (17, 26) -> (17, 14.5)
  line L188 (-9.7365, 26) -> (-17, 26)
  line L189 (-17, 26) -> (-17, 14.5)
  line L190 (-9.7365, 22.9366) -> (-3.695, 18.0905)
  line L191 (9.7365, 22.9366) -> (3.695, 18.0905)
  line L192 (-17, -14.5) -> (-25.25, -14.5)
  line L193 (-25.25, -14.5) -> (-25.25, -16.0309)
  line L194 (-25.25, -16.0309) -> (-15.2809, -26)
  line L195 (-15.2809, -26) -> (15.2809, -26)
  line L196 (15.2809, -26) -> (25.25, -16.0309)
  line L197 (25.25, -16.0309) -> (25.25, -14.5)
  line L198 (25.25, -14.5) -> (17, -14.5)
  line L199 (17, -14.5) -> (17, -20.8804)
  line L200 (17, -20.8804) -> (6.6466, -20.8804)
  line L201 (6.6466, -20.8804) -> (4.5158, -27.0126)
  line L202 (4.5158, -27.0126) -> (-4.5158, -27.0126)
  line L203 (-4.5158, -27.0126) -> (-6.6466, -20.8804)
  line L204 (-6.6466, -20.8804) -> (-17, -20.8804)
  line L205 (-17, -20.8804) -> (-17, -14.5)
  line L206 (-16.1661, 42.8636) -> (16.1661, 42.8636)
  line L207 (-20.6579, 35.0836) -> (20.6579, 35.0836)
  line L208 (-22.045, 32.6811) -> (-12.2942, 28.5594)
  line L209 (-12.2942, 28.5594) -> (12.2942, 28.5594)
  line L210 (12.2942, 28.5594) -> (22.045, 32.6811)
  line L211 (-25.25, 25.1515) -> (25.25, 25.1515)
  circle A29 centre (-27.1405, 25.3286) radius 1.5 construction
  line L212 (-7.5571, 35.0836) -> (-5.0762, 37.1727)
  line L213 (-5.0762, 37.1727) -> (5.0762, 37.1727)
  line L214 (5.0762, 37.1727) -> (7.5571, 35.0836)
  line L215 (-6.2476, 42.8636) -> (0, 41.1322)
  line L216 (0, 41.1322) -> (6.2476, 42.8636)
  line L217 (-17, 18.9574) -> (-20.6579, 14.5)
  line L218 (17, 18.9574) -> (20.6579, 14.5)
  point P0 (29.25, -8.5)
  point P1 (29.25, 8.5)
  point P2 (29.25, -17.6878)
  point P3 (29.25, 28.2016)
  point P4 (16.5079, 42.2717)
  point P5 (9.7365, 25.1515)
  point P6 (-9.7365, 25.1515)
  point P7 (17, 25.1515)
  point P8 (-17, 25.1515)
  point P9 (-4.3925, 58)
  point P10 (4.5158, 58)
  point P11 (4.8676, -26)
  point P12 (-4.8676, -26)
  dimension "d78" = 17
  dimension "d80" = 0.5
  dimension "d81" = 58.5
  dimension "d82" = 57.5
  dimension "d84" = 0
  dimension "d119" = 5
  dimension "d123" = 5
  dimension "d124" = 5
  dimension "d125" = 6.5
  dimension "d126" = 7
  dimension "d127" = 3
  dimension "d128" = 7
  dimension "d130" = 5
  dimension "d131" = 5
  dimension "d132" = 6.5
  dimension "d133" = 7
  dimension "d134" = 3
  dimension "d135" = 105
  dimension "d141" = 1.25
  dimension "d142" = 1.6
  dimension "d143" = 3
  dimension "d144" = 1.25
  dimension "d145" = 1.6
  dimension "d146" = 3
  dimension "d156" = 3
  dimension "d157" = 6.5
  dimension "d158" = 7
  dimension "d161" = 1.25
  dimension "d162" = 1.6
  dimension "d163" = 3
  dimension "d164" = 1.25
  dimension "d165" = 1.6
  dimension "d173" = 5
  dimension "d187" = 88
  dimension "d192" = 2.2094
  dimension "d193" = 58
  dimension "d194" = 30
  dimension "d195" = 30.1
  dimension "d198" = 45
  dimension "d199" = 30
  dimension "d203" = 4
  dimension "d204" = 4
  dimension "d205" = 0
  dimension "d206" = 4
  dimension "d207" = 4
  dimension "d208" = 4
  dimension "d209" = 4
  dimension "d210" = 6
  dimension "d211" = 6
  dimension "d240" = 3
extrude "押し出し1" add sketch "スケッチ3" against normal blind 1 contours A1 | A2 | A3 | A4 | A5 | L102 L163 L159 | L102 L107 L108 L109 L164 L158 L162 L103 L106 L105 L104 L161 L159 L163 | L102 L109 L108 L107 | L161 L103 L159 | L102 L158 L164 | L104 L105 L106 L103 | L158 L103 L162 | A7 | A10 | A13 | A15 | A18 | A21 | A24 | A27 | L165 L166 L206 L172 | L206 L215 L216 L166 L207 L214 L213 L212 L172 | L207 L166 L210 L209 L208 L172 | L206 L216 L215 | L208 L209 L210 L166 L167 L211 L187 L186 L185 L184 L188 L189 L171 L172 | L212 L213 L214 L207 | L211 L189 L217 L170 L171 | L167 L168 L218 L187 L211 | L189 L188 L184 L211 | L211 L185 L186 L187 | L217 L189 L170 | L211 L185 L191 L169 L190 L184 | L168 L187 L218 | L205 L204 L203 L195 L194 L193 L192 | L201 L200 L199 L198 L197 L196 L195 | L195 L201 L202 L203
extrude "押し出し2" cut sketch "スケッチ3" against normal blind 1 contours A2 | A3 | A4 | A5
extrude "押し出し3" cut sketch "スケッチ3" against normal blind 1 contours A1
extrude "押し出し4" cut sketch "スケッチ3" against normal up to surface (1 mm away) contours L102 L109 L108 L107 | L104 L105 L106 L103
extrude "押し出し7" cut sketch "スケッチ3" against normal up to surface (1 mm away) contours A7 | A10 | A18 | A21 | A24 | A27
extrude "押し出し8" cut sketch "スケッチ3" against normal blind 10 contours A13 | A15
extrude "押し出し24" cut sketch "スケッチ3" against normal blind 1 contours L102 L163 L159 | L161 L103 L159 | L102 L158 L164 | L158 L103 L162 | L165 L166 L206 L172 | L207 L166 L210 L209 L208 L172 | L206 L216 L215 | L212 L213 L214 L207 | L211 L189 L217 L170 L171 | L167 L168 L218 L187 L211 | L217 L189 L170 | L211 L185 L191 L169 L190 L184 | L168 L187 L218 | L205 L204 L203 L195 L194 L193 L192 | L201 L200 L199 L198 L197 L196 L195
extrude "押し出し27" add sketch "スケッチ3" against normal blind 1 contours L217 L189 L170 | L168 L187 L218
chamfer "面取り3" distance 2 angle 45 4 edges at (-29.25, 8.5, -0.5) (-29.25, -8.5, -0.5) (29.25, -8.5, -0.5) (29.25, 8.5, -0.5)
chamfer "面取り4" distance 5 angle 45 2 edges at (-16.1661, 42.8636, -0.5) (16.1661, 42.8636, -0.5)
chamfer "面取り5" distance 2 angle 45 2 edges at (17, -14.5, -0.5) (-17, -14.5, -0.5)
chamfer "面取り6" distance 2 angle 45 2 edges at (17, -20.8804, -0.5) (-17, -20.8804, -0.5)
chamfer "面取り7" distance 2 angle 45 2 edges at (4.8676, -26, -0.5) (-4.8676, -26, -0.5)
chamfer "面取り8" distance 3 angle 45 2 edges at (25.25, 25.1515, -0.5) (-25.25, 25.1515, -0.5)
equation "\"d9\" = d8"
equation "\"d11\" = d10"
equation "\"d12\" = d10"
equation "\"d13\" = d10"
equation "\"d15\" = d14"
equation "\"d16\" = d14"
equation "\"d17\" = d10"
properties part number "chassis"
